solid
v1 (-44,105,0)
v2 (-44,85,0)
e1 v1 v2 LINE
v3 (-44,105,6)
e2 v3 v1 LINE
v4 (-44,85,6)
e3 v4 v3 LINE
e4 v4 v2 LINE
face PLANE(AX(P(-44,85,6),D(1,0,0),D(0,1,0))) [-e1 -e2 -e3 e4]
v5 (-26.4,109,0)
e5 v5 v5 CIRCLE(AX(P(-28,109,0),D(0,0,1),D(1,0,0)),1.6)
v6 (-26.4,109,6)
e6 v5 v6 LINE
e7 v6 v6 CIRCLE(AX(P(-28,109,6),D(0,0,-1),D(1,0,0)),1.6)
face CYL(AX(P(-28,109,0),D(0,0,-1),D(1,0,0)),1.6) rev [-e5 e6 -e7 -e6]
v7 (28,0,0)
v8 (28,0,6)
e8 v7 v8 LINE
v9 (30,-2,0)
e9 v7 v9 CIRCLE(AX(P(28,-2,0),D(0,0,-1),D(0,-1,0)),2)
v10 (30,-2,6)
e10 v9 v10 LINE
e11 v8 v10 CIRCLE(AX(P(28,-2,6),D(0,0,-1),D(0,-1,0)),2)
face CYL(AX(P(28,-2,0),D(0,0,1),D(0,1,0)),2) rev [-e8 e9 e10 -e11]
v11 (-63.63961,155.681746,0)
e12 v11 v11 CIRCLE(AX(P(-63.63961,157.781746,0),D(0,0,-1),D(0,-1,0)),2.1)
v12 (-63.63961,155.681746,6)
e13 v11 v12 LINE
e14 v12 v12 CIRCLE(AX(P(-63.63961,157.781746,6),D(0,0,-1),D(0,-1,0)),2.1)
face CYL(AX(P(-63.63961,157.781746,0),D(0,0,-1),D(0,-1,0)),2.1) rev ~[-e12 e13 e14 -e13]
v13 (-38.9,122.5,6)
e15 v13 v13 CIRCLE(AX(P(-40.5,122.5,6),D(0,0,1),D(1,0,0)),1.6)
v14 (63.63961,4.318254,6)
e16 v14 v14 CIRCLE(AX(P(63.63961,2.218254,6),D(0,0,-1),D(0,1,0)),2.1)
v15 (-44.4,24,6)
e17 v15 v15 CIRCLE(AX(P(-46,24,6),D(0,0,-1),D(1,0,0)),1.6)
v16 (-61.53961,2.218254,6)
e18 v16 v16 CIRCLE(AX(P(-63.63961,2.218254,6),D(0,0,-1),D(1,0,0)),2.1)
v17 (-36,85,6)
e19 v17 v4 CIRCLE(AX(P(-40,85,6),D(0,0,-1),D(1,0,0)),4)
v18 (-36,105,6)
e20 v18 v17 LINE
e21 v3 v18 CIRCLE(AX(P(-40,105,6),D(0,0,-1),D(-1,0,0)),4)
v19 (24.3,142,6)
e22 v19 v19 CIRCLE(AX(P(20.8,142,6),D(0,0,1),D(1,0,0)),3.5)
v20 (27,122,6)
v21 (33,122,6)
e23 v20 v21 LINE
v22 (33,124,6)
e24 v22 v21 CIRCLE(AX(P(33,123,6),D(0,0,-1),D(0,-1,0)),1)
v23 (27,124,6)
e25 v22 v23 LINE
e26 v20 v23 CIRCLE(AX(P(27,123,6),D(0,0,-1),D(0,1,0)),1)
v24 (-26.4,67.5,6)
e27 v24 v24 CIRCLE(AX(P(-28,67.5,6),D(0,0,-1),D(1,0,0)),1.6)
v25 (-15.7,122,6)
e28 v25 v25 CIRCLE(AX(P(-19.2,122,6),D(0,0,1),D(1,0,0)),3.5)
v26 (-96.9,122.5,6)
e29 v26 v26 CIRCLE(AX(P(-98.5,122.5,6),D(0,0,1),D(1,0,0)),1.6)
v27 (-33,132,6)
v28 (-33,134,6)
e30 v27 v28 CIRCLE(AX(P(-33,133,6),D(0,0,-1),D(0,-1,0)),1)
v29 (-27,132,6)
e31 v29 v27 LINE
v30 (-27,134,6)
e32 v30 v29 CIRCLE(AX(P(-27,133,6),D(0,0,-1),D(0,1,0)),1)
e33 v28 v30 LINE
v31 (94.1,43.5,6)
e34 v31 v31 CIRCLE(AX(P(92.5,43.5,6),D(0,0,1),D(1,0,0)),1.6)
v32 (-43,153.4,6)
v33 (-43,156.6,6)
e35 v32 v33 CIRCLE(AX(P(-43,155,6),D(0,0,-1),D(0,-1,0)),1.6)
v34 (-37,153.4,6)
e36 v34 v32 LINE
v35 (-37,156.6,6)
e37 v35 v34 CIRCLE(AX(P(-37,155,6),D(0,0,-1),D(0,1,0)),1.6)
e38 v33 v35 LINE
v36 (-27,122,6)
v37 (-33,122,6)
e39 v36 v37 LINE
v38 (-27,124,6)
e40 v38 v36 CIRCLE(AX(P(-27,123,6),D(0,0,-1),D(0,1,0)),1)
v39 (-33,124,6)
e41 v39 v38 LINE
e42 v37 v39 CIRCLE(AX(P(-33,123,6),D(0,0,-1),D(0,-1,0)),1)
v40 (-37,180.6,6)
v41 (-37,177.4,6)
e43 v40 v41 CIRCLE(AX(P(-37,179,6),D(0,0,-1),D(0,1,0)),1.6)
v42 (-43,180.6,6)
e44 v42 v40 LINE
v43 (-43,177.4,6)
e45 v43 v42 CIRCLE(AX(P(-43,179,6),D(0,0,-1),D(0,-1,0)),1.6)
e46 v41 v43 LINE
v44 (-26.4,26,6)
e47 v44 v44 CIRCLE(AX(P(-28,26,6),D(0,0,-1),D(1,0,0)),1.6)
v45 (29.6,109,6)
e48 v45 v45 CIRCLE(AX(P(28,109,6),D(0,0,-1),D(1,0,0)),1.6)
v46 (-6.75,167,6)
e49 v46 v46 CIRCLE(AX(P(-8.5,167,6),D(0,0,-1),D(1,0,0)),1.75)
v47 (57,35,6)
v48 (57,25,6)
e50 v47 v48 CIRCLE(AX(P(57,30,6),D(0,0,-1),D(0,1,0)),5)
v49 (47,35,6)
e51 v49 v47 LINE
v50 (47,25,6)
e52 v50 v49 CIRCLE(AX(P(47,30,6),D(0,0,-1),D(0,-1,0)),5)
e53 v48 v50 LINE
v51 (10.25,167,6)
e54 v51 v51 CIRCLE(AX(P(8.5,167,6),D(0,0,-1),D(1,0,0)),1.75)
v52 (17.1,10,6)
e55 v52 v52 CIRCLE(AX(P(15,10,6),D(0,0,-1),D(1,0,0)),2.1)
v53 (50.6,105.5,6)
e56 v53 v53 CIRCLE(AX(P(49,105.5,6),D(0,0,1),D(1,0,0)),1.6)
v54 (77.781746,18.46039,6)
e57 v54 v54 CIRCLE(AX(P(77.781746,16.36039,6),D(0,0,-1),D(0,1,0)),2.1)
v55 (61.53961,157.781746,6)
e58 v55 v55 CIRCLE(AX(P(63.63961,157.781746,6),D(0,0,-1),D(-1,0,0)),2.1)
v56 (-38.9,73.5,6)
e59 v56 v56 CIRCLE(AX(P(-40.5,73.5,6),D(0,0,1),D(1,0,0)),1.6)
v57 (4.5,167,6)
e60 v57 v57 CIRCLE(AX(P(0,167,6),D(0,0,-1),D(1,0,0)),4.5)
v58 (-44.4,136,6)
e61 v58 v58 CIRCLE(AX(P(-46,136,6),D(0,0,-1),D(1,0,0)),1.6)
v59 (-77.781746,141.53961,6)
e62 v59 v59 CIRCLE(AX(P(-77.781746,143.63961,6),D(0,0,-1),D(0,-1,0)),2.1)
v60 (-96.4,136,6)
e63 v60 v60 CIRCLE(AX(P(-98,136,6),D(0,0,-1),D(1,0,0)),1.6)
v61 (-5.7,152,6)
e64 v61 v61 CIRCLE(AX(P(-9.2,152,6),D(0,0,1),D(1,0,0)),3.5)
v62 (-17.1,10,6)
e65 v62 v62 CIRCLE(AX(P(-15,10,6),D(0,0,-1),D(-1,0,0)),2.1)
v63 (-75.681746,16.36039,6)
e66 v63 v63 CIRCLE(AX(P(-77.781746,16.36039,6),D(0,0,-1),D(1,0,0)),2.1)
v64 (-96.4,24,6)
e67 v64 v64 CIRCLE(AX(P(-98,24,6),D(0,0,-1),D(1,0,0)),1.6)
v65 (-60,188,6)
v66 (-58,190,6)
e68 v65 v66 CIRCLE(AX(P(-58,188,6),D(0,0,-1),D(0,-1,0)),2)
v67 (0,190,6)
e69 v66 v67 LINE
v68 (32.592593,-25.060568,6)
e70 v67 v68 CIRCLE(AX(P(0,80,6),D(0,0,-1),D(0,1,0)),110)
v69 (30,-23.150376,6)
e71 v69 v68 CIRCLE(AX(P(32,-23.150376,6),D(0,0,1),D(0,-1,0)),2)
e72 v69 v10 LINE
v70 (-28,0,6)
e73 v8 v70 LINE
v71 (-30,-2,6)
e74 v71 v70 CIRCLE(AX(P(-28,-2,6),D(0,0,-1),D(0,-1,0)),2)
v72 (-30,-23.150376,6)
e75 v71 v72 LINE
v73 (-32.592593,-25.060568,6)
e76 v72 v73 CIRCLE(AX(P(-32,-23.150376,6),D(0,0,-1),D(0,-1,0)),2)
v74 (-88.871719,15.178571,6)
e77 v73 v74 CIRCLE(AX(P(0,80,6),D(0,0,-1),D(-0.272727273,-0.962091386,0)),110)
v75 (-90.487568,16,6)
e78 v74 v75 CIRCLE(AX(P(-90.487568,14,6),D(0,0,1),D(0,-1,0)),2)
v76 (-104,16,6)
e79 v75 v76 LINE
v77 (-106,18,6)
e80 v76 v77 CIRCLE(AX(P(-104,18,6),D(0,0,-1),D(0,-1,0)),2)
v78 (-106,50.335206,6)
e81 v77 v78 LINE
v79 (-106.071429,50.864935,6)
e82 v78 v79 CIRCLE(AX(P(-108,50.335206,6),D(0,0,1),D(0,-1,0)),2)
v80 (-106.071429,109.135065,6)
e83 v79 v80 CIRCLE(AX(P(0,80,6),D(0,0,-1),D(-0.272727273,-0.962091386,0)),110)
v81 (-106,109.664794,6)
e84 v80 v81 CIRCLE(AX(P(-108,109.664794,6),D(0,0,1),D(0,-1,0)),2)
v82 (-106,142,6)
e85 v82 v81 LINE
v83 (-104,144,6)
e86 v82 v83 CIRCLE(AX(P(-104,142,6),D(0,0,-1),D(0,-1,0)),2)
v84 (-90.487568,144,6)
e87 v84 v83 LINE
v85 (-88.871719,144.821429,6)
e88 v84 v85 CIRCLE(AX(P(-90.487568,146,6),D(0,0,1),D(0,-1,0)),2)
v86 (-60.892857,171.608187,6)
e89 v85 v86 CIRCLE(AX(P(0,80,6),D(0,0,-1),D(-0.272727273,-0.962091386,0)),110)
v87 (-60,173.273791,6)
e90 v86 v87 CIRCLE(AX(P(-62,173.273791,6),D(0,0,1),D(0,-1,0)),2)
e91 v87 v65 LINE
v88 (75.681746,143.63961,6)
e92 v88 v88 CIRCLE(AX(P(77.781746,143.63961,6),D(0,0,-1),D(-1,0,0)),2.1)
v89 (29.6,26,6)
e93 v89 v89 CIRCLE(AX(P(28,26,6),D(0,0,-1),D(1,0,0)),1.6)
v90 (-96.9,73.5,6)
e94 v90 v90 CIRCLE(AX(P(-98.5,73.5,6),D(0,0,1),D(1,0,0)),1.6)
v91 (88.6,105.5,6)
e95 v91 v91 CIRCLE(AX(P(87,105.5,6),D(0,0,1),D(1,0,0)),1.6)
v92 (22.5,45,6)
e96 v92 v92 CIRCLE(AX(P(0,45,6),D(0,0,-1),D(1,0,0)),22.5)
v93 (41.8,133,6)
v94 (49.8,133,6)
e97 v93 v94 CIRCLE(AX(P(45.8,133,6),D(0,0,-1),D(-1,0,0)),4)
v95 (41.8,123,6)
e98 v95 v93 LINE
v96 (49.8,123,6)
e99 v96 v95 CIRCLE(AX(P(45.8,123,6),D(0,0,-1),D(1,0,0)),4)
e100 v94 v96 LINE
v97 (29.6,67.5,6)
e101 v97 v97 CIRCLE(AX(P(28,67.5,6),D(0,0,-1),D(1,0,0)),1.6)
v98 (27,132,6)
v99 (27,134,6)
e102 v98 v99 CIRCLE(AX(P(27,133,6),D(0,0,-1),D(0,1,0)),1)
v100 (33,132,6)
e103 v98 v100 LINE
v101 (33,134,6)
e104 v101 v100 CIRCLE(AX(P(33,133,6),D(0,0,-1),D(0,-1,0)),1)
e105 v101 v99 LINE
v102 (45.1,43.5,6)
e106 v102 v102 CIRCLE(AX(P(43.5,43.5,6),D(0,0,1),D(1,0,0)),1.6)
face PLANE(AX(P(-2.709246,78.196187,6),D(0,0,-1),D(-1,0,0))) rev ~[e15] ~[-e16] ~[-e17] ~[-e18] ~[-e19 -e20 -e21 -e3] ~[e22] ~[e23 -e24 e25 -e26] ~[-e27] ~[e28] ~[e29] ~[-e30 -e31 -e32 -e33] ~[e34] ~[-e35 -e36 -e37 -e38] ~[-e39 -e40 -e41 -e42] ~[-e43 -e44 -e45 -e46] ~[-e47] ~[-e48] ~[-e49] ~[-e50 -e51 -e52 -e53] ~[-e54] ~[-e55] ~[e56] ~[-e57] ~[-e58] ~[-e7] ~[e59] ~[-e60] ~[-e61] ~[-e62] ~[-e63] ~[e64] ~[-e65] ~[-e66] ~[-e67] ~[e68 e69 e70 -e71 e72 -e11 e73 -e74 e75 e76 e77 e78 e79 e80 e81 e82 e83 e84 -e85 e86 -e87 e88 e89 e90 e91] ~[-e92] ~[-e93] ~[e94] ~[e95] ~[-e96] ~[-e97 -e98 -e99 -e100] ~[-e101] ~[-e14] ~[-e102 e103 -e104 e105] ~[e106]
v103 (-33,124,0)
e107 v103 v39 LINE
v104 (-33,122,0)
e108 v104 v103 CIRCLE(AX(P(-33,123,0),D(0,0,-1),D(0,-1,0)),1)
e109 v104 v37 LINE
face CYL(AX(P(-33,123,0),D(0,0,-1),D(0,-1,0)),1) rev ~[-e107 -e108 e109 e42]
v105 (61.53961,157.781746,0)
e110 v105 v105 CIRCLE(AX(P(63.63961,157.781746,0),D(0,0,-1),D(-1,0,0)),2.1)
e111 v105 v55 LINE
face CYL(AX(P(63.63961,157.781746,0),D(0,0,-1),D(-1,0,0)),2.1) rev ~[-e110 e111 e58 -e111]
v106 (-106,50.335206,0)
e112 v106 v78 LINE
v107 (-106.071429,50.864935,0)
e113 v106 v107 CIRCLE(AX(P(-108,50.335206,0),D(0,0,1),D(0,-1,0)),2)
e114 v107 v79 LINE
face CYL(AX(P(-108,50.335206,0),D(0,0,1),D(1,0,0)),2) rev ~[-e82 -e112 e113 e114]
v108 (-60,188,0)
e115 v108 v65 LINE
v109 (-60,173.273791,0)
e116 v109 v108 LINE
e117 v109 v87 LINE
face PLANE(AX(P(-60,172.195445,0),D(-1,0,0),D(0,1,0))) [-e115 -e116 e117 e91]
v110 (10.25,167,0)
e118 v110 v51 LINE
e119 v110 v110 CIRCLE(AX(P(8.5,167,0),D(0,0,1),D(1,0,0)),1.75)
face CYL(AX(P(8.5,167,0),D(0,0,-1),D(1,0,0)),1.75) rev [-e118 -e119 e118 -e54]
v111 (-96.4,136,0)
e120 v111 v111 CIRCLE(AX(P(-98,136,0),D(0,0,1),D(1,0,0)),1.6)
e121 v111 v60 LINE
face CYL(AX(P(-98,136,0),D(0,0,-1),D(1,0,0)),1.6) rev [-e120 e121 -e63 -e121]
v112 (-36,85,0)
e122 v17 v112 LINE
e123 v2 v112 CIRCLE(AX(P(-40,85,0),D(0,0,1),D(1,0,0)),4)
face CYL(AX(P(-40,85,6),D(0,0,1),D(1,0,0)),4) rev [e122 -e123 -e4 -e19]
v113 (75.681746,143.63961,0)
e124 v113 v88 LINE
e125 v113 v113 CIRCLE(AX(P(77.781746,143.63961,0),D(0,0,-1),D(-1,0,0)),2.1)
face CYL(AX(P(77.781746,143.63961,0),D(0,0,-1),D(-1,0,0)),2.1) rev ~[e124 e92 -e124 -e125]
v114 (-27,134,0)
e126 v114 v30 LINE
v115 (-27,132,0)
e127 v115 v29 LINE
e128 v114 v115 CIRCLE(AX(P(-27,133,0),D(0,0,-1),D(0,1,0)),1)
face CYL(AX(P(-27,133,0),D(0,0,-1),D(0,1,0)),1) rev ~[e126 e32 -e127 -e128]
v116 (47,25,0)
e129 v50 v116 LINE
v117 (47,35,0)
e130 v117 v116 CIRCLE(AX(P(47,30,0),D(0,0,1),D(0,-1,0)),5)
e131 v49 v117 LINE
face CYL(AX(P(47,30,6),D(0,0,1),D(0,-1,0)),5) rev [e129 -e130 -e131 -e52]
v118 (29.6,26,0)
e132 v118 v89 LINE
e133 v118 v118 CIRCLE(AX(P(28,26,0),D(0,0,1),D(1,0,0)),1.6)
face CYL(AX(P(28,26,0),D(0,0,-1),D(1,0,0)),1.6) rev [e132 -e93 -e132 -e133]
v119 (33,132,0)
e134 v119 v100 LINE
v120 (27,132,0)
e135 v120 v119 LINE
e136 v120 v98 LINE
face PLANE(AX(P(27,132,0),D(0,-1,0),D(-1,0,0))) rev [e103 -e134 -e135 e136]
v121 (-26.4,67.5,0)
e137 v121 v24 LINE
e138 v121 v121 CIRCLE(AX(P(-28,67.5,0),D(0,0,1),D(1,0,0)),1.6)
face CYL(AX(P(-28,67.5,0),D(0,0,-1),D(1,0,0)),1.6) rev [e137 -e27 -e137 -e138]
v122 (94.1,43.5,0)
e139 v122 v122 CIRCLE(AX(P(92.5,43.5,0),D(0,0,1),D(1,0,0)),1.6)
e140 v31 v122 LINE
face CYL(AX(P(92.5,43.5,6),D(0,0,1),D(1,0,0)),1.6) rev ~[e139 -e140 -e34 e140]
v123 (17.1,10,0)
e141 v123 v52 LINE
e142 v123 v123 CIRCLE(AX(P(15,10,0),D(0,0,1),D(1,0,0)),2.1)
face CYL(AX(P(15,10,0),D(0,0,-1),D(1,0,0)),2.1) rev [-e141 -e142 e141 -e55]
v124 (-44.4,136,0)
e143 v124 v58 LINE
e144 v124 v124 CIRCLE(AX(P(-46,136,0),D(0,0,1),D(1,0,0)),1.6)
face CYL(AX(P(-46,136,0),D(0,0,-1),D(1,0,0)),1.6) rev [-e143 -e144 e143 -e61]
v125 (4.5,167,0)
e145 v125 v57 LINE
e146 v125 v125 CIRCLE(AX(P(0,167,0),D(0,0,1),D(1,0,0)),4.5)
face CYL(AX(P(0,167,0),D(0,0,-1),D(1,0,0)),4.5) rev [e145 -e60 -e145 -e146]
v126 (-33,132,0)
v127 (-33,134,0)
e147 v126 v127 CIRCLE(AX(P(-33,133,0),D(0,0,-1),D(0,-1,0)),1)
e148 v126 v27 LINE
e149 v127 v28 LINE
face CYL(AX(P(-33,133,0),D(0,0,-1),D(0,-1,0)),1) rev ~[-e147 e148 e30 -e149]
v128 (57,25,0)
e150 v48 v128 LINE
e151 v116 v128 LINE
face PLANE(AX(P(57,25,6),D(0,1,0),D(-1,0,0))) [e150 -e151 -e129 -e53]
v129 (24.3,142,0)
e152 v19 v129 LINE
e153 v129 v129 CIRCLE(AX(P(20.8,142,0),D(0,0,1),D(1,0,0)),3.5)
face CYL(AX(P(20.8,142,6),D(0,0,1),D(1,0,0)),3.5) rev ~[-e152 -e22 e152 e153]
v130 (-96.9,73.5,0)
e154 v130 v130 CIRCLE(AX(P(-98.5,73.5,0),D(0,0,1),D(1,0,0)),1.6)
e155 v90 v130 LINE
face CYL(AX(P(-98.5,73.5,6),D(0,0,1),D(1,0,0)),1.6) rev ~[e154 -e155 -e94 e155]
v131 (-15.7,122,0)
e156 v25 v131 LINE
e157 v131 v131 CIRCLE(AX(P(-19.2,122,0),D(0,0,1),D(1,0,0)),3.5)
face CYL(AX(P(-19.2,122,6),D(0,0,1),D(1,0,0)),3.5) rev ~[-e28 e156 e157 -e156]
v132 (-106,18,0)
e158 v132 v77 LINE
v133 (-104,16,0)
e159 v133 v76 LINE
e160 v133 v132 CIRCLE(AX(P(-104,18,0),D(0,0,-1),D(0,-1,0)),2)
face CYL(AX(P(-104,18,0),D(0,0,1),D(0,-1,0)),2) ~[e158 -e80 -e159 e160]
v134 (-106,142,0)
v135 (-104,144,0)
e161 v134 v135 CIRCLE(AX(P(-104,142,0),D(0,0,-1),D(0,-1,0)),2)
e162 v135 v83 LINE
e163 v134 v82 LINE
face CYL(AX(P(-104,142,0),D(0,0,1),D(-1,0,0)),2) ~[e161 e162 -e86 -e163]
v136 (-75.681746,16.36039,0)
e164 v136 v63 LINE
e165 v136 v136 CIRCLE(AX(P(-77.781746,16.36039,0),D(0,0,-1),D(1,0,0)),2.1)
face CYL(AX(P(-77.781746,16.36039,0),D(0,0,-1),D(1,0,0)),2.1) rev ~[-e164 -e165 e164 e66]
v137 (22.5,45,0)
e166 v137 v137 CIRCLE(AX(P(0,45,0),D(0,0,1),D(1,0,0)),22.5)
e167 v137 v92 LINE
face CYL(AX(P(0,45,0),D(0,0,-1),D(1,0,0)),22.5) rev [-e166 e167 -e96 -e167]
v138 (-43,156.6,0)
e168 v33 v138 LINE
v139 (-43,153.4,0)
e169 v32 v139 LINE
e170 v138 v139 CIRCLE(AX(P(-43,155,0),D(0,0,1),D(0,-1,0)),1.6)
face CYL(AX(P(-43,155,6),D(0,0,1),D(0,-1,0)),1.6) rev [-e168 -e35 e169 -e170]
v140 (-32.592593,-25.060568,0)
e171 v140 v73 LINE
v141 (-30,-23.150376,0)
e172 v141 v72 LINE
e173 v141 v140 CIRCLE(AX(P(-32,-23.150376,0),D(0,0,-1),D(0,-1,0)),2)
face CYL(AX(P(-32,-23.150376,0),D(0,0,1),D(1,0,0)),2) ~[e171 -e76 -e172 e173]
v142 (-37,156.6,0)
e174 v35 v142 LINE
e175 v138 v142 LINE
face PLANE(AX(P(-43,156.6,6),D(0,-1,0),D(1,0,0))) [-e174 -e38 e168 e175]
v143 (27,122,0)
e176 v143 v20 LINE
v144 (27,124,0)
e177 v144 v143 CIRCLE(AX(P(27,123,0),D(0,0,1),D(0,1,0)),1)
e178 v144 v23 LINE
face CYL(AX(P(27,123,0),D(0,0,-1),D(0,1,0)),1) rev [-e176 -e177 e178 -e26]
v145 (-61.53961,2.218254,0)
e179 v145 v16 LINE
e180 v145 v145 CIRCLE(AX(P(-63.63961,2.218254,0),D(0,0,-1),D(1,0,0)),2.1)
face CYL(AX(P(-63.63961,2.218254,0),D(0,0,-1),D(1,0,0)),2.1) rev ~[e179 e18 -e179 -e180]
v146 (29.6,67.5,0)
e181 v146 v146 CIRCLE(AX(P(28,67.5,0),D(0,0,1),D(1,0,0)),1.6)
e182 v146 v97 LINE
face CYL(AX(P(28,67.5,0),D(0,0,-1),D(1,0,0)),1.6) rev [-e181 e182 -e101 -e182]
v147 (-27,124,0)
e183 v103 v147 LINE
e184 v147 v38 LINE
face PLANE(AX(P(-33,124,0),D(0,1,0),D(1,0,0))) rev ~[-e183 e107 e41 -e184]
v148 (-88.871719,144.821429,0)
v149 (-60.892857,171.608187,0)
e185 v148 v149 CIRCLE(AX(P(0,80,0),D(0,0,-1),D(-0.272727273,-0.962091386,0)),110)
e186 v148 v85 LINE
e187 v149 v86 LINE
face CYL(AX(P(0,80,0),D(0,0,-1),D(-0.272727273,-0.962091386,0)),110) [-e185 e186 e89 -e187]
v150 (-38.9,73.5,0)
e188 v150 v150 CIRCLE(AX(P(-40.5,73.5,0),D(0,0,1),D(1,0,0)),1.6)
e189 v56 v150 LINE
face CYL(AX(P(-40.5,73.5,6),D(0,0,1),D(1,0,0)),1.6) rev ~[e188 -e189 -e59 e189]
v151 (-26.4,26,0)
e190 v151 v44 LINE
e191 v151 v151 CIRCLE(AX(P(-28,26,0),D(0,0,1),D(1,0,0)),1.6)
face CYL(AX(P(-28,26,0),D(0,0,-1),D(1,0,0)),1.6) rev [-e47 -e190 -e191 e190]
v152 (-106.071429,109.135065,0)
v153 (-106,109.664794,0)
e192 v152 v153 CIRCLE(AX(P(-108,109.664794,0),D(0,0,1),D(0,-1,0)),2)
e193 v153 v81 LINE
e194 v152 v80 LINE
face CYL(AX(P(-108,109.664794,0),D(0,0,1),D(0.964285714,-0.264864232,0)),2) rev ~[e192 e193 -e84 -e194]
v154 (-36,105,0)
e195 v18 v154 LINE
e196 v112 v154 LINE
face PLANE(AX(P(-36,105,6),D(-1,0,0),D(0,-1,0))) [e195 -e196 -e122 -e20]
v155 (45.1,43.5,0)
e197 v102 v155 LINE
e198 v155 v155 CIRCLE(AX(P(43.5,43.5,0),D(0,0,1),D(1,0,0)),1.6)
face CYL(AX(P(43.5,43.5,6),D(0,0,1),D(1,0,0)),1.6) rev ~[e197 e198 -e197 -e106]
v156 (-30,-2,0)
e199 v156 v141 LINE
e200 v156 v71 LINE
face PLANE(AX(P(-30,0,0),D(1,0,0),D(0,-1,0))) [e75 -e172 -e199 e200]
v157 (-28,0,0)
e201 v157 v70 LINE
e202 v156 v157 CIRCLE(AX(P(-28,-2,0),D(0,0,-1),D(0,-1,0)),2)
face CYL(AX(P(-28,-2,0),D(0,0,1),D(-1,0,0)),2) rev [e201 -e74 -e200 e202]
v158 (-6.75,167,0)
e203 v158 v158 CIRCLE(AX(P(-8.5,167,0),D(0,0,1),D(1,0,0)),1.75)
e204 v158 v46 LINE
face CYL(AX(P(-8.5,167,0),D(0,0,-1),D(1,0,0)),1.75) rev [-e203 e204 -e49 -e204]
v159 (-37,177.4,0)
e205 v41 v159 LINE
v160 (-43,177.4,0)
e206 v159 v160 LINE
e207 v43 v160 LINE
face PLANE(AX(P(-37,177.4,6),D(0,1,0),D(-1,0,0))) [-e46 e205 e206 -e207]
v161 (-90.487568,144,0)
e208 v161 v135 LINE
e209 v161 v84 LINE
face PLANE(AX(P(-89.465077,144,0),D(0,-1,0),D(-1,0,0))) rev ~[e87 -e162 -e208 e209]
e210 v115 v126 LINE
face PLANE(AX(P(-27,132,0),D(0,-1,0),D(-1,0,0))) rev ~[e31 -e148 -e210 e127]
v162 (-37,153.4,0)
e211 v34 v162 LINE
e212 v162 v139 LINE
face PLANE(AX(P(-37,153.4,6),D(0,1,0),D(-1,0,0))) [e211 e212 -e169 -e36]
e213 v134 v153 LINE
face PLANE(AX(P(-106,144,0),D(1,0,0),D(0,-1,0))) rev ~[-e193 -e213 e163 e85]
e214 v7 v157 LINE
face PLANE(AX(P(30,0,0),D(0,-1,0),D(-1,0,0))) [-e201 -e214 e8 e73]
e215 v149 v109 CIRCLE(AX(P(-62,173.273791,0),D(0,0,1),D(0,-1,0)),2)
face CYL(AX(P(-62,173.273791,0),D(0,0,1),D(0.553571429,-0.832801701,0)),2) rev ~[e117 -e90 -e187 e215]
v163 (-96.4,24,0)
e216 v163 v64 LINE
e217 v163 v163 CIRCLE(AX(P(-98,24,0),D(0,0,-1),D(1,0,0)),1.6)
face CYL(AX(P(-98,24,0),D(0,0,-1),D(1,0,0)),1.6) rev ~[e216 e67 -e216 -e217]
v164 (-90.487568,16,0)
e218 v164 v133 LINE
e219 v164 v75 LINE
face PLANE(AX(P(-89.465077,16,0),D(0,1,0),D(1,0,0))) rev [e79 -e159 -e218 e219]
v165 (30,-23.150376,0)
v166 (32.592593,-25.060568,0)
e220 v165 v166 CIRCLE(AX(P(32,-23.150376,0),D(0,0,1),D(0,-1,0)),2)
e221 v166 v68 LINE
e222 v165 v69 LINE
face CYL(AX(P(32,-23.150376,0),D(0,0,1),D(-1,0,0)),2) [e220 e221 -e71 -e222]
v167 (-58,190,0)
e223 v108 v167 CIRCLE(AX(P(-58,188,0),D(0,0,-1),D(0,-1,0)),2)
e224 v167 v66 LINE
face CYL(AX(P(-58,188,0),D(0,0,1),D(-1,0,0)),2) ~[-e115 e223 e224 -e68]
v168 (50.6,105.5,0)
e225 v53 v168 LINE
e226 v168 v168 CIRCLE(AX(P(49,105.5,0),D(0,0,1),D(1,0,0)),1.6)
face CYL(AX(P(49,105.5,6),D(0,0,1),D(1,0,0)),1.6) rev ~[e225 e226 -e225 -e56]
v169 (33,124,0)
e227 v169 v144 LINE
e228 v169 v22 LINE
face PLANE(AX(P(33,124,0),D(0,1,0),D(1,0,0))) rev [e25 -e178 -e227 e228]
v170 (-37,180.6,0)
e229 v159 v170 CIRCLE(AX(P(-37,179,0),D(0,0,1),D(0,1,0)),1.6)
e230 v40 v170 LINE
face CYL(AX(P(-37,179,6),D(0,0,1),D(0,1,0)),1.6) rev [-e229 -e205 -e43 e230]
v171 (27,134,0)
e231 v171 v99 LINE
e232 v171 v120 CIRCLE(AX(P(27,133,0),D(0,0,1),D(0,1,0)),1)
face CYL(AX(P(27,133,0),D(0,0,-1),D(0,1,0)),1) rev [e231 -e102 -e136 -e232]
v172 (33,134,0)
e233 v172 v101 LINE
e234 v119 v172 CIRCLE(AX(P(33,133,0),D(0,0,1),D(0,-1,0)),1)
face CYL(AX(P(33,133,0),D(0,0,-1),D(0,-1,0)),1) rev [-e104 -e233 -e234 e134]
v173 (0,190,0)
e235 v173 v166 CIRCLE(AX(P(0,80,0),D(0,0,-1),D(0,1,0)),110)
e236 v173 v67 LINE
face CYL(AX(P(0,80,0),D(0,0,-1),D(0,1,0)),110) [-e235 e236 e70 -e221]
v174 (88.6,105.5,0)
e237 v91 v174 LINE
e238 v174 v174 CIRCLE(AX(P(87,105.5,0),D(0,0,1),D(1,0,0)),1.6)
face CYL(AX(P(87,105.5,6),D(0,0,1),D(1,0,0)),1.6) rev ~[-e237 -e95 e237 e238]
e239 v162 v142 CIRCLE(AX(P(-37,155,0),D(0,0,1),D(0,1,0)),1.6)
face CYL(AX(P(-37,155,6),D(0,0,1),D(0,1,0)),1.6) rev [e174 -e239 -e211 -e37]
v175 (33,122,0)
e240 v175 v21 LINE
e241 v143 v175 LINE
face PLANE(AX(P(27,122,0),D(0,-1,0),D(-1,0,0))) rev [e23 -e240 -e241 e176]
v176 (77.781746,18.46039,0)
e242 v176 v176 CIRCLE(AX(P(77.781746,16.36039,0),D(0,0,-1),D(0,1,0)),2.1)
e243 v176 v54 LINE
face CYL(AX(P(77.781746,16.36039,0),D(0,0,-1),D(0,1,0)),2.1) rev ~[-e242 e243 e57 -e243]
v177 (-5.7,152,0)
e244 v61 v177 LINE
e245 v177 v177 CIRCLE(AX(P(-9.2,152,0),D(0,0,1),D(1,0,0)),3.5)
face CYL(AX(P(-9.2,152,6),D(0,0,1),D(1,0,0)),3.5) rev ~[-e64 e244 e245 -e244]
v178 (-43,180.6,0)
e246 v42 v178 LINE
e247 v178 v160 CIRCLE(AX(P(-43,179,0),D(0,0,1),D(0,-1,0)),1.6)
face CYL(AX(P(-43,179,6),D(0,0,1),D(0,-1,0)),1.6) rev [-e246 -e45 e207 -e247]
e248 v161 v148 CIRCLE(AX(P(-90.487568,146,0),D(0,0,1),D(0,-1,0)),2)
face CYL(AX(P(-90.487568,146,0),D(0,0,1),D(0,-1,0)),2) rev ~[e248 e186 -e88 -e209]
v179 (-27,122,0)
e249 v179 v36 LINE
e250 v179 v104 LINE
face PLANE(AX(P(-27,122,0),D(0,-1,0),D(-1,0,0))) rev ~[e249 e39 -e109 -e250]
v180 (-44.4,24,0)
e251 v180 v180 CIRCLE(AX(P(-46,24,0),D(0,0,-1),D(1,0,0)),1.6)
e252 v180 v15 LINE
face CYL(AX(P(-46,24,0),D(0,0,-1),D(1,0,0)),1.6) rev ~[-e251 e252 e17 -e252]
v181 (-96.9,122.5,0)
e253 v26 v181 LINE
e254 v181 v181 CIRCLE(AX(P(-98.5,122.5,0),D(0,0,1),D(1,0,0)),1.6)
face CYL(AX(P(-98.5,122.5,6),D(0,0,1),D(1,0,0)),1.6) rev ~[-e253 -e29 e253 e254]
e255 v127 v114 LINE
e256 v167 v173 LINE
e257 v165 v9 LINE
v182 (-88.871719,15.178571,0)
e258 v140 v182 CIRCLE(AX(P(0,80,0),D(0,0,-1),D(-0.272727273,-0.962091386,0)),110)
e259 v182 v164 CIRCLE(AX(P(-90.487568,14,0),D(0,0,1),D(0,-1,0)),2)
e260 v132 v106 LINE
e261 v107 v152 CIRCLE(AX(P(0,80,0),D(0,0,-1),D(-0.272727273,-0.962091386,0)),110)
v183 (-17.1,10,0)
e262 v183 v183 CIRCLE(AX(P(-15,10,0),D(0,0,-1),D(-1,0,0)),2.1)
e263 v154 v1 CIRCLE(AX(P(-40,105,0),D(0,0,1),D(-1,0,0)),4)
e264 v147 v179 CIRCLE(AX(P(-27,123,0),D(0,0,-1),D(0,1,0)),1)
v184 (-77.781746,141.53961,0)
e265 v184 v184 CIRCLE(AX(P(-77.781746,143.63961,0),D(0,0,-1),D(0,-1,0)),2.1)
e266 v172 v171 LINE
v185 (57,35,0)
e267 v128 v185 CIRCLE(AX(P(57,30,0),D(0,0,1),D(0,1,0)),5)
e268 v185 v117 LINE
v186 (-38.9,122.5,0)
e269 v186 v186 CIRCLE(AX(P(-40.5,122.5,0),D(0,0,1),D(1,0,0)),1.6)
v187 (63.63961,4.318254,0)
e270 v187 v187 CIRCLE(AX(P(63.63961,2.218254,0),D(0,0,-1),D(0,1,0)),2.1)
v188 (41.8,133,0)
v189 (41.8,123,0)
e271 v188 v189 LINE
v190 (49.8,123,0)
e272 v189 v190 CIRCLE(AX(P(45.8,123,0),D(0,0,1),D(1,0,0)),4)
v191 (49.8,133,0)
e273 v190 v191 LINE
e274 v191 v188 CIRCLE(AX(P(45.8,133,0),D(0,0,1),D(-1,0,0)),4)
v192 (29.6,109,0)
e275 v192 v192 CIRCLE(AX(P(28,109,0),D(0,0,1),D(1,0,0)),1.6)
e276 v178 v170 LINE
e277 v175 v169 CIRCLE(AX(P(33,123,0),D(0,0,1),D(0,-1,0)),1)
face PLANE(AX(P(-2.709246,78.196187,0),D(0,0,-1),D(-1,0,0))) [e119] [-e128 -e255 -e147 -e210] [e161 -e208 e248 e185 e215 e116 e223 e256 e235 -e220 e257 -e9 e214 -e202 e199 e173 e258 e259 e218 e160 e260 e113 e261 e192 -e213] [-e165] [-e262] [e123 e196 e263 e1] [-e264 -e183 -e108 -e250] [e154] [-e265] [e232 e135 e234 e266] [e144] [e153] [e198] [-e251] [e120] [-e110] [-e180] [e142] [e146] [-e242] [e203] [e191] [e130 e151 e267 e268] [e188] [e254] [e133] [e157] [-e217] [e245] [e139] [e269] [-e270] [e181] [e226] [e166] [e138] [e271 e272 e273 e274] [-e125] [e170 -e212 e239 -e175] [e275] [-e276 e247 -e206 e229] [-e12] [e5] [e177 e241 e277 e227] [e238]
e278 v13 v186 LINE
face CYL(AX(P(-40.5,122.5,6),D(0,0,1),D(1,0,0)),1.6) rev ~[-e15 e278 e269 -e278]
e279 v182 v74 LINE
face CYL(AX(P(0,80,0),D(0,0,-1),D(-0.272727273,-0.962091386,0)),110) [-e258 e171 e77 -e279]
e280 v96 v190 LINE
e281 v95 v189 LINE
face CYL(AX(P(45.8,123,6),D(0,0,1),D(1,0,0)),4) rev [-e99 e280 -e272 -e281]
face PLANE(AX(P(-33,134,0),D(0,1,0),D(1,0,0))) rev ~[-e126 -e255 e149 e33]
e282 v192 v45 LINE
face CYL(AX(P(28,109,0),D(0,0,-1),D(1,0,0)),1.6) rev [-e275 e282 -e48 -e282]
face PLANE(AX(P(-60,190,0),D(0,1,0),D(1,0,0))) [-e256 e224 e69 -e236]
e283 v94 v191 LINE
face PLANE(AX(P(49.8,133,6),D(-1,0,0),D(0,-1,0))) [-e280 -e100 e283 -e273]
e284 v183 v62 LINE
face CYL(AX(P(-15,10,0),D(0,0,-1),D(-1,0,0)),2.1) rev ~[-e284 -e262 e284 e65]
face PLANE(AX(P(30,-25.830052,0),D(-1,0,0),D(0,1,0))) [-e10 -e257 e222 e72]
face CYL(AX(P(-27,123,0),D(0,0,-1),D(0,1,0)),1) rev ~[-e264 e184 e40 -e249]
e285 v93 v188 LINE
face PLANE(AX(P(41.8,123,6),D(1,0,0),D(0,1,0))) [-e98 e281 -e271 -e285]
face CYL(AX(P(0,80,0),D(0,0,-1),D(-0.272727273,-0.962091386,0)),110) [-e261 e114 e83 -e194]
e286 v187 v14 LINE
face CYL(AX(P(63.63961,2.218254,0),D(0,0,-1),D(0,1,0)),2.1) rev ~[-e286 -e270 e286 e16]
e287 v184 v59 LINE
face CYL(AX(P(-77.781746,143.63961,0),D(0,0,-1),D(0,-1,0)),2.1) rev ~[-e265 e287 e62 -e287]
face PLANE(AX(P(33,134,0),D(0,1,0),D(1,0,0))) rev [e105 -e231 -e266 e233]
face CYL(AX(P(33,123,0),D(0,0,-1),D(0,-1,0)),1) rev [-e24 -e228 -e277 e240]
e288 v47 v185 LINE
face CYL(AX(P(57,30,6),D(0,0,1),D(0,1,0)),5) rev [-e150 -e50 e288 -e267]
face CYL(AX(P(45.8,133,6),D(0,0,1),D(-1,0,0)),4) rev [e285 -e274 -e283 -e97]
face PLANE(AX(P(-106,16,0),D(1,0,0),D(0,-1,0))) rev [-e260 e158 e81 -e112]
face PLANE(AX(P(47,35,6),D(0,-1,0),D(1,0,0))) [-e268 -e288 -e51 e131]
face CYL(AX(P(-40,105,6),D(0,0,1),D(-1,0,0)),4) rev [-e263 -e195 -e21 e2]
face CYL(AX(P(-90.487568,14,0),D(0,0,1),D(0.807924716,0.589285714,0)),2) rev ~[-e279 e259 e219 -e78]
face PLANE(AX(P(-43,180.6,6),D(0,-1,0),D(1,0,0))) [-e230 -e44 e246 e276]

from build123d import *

# Parameters (mm, degrees)
BOSS_EXTRU_1_DEPTH                       = 6
ESQUISSE2_R                              = 1.6
ESQUISSE2_R_2                            = 1.75
ESQUISSE2_R_3                            = 4.5
ENL_V_MAT_EXTRU_1_DEPTH                  = 10
ESQUISSE4_R                              = 22.5
ENL_V_MAT_EXTRU_2_DEPTH                  = 220.626956451
ESQUISSE5_R                              = 2.1
ENL_V_MAT_EXTRU_4_DEPTH                  = 220.626956451
CONG_2_R                                 = 2
ENL_V_MAT_EXTRU_5_REACH                  = 221.627
ESQUISSE7_R                              = 2.1
ENL_V_MAT_EXTRU_6_DEPTH                  = 220.626956451
R_P_TITION_CIRCULAIRE1_COUNT             = 4
ESQUISSE8_R                              = 3.5
ENL_V_MAT_EXTRU_RELAIS_MOT_PISTON_DEPTH  = 220.626956451
ENL_V_MAT_EXTRU_8_DEPTH                  = 220.626956451
BOSS_EXTRU_2_DEPTH                       = 6
ENL_V_MAT_EXTRU_9_DEPTH                  = 220.626956451
CONG_3_R                                 = 2
ESQUISSE10_R                             = 1.6
ENL_V_MAT_EXTRU_PONT_H_MOT_CAISSES_DEPTH = 220.626956451
CONG_3_OF_SYM_TRIE2_R                    = 2
ENL_V_MAT_EXTRU_7_DEPTH                  = 220.626956451
ESQUISSE11_R                             = 1.6
ENL_V_MAT_EXTRU_RASPBERRY_DEPTH          = 220.626956451
ESQUISSE12_R                             = 1.6
ENL_V_MAT_EXTRU_ARDUINO_DEPTH            = 220.626956451


with BuildPart() as part:
    # Esquisse1 → Boss.-Extru.1 (new body)
    with BuildSketch(Plane.XY):
        with BuildLine():
            Line((-30, 0), (-30, -25.830052443))
            ThreePointArc((-30, -25.830052443), (-108.759019704, 63.523482378), (-60, 172.195444573))
            Line((-60, 172.195444573), (-60, 190))
            Line((-60, 190), (0, 190))
            ThreePointArc((0, 190), (108.952525828, 95.144210632), (30, -25.830052443))
            Line((30, -25.830052443), (30, 0))
            Line((30, 0), (-30, 0))
        make_face()
    extrude(amount=BOSS_EXTRU_1_DEPTH)

    # Esquisse2 → Enlèv. mat.-Extru.1 (cut)
    with BuildSketch(Plane.XY):
        with Locations((28, 26)):
            Circle(ESQUISSE2_R)
        with Locations((-28, 26)):
            Circle(ESQUISSE2_R)
        with Locations((-28, 67.5)):
            Circle(ESQUISSE2_R)
        with Locations((-28, 109)):
            Circle(ESQUISSE2_R)
        with Locations((28, 67.5)):
            Circle(ESQUISSE2_R)
        with Locations((28, 109)):
            Circle(ESQUISSE2_R)
        with Locations((8.5, 167)):
            Circle(ESQUISSE2_R_2)
        with Locations((-8.5, 167)):
            Circle(ESQUISSE2_R_2)
        with Locations((0, 167)):
            Circle(ESQUISSE2_R_3)
    extrude(amount=ENL_V_MAT_EXTRU_1_DEPTH, mode=Mode.SUBTRACT)

    # Esquisse4 → Enlèv. mat.-Extru.2 (cut, through all)
    with BuildSketch(Plane.XY):
        with Locations((0, 45)):
            Circle(ESQUISSE4_R)
    extrude(amount=ENL_V_MAT_EXTRU_2_DEPTH, mode=Mode.SUBTRACT)

    # Esquisse5 → Enlèv. mat.-Extru.4 (cut, through all)
    with BuildSketch(Plane(origin=(0, 0, 0), x_dir=(-1, 0, 0), z_dir=(0, 0, -1))):
        with Locations((15, 10)):
            Circle(ESQUISSE5_R)
    enl_v_mat_extru_4 = extrude(amount=-ENL_V_MAT_EXTRU_4_DEPTH, mode=Mode.SUBTRACT)

    # Symétrie1: Enlèv. mat.-Extru.4 across plane
    add(enl_v_mat_extru_4.mirror(Plane(origin=(0, 0, 0), x_dir=(0, 0, 1), z_dir=(1, 0, 0))), mode=Mode.SUBTRACT)

    # Congé2
    cong_2_edges = [part.edges().sort_by_distance(p)[0] for p in [
        (-30, -25.830052443, 3),
        (-30, 0, 3),
        (30, 0, 3),
        (30, -25.830052443, 3),
        (-60, 172.195444573, 3),
        (-60, 190, 3),
    ]]
    fillet(cong_2_edges, radius=CONG_2_R)

    # Esquisse6 → Enlèv. mat.-Extru.5 (cut, up to next)
    with BuildSketch(Plane.XY.offset(6), mode=Mode.PRIVATE) as enl_v_mat_extru_5_sk1:
        with BuildLine():
            Line((-43, 180.6), (-37, 180.6))
            ThreePointArc((-37, 180.6), (-35.4, 179), (-37, 177.4))
            Line((-37, 177.4), (-43, 177.4))
            ThreePointArc((-43, 177.4), (-44.6, 179), (-43, 180.6))
        make_face()
    enl_v_mat_extru_5_tool1 = extrude(enl_v_mat_extru_5_sk1.sketch, amount=-ENL_V_MAT_EXTRU_5_REACH, mode=Mode.PRIVATE) & part.part
    # Esquisse6 → Enlèv. mat.-Extru.5 (cut, up to next)
    with BuildSketch(Plane.XY.offset(6), mode=Mode.PRIVATE) as enl_v_mat_extru_5_sk2:
        with BuildLine():
            Line((-43, 156.6), (-37, 156.6))
            ThreePointArc((-37, 156.6), (-35.4, 155), (-37, 153.4))
            Line((-37, 153.4), (-43, 153.4))
            ThreePointArc((-43, 153.4), (-44.6, 155), (-43, 156.6))
        make_face()
    enl_v_mat_extru_5_tool2 = extrude(enl_v_mat_extru_5_sk2.sketch, amount=-ENL_V_MAT_EXTRU_5_REACH, mode=Mode.PRIVATE) & part.part
    add(enl_v_mat_extru_5_tool1.solids().sort_by_distance((-40, 179, 6))[0], mode=Mode.SUBTRACT)
    add(enl_v_mat_extru_5_tool2.solids().sort_by_distance((-40, 155, 6))[0], mode=Mode.SUBTRACT)

    # Esquisse7 → Enlèv. mat.-Extru.6 (cut, through all)
    with BuildSketch(Plane(origin=(0, 0, 0), x_dir=(-1, 0, 0), z_dir=(0, 0, -1))):
        with Locations((-63.639610307, 157.781745931)):
            Circle(ESQUISSE7_R)
        with Locations((-77.781745931, 143.639610307)):
            Circle(ESQUISSE7_R)
    enl_v_mat_extru_6 = extrude(amount=-ENL_V_MAT_EXTRU_6_DEPTH, mode=Mode.SUBTRACT)

    # Répétition circulaire1: Enlèv. mat.-Extru.6 ×4 about axis
    r_p_tition_circulaire1_axis = Axis((0, 80, 6), (0, 0, -1))
    for i in range(1, R_P_TITION_CIRCULAIRE1_COUNT):
        add(enl_v_mat_extru_6.rotate(r_p_tition_circulaire1_axis, i * 360 / R_P_TITION_CIRCULAIRE1_COUNT), mode=Mode.SUBTRACT)

    # Esquisse8 → Enlèv. mat.-Extru. Relais Mot piston (cut, through all)
    with BuildSketch(Plane.XY.offset(6)):
        with Locations((20.8, 142)):
            Circle(ESQUISSE8_R)
        with Locations((-9.2, 152)):
            Circle(ESQUISSE8_R)
        with Locations((-19.2, 122)):
            Circle(ESQUISSE8_R)
    extrude(amount=-ENL_V_MAT_EXTRU_RELAIS_MOT_PISTON_DEPTH, mode=Mode.SUBTRACT)

    # Esquisse14 → Enlèv. mat.-Extru.8 (cut, through all)
    with BuildSketch(Plane.XY):
        with BuildLine():
            Line((-33, 134), (-27, 134))
            ThreePointArc((-27, 134), (-26, 133), (-27, 132))
            Line((-27, 132), (-33, 132))
            ThreePointArc((-33, 132), (-34, 133), (-33, 134))
        make_face()
        with BuildLine():
            Line((-33, 124), (-27, 124))
            ThreePointArc((-27, 124), (-26, 123), (-27, 122))
            Line((-27, 122), (-33, 122))
            ThreePointArc((-33, 122), (-34, 123), (-33, 124))
        make_face()
    enl_v_mat_extru_8 = extrude(amount=ENL_V_MAT_EXTRU_8_DEPTH, mode=Mode.SUBTRACT)

    # Symétrie3: Enlèv. mat.-Extru.8 across plane
    add(enl_v_mat_extru_8.mirror(Plane(origin=(0, 0, 0), x_dir=(0, 0, 1), z_dir=(1, 0, 0))), mode=Mode.SUBTRACT)

    # Esquisse9 → Boss.-Extru.2 (add)
    with BuildSketch(Plane.XY):
        with BuildLine():
            Line((-106, 144), (-106, 109.393876913))
            ThreePointArc((-106, 109.393876913), (-99.252430796, 127.423148156), (-89.465076985, 144))
            Line((-89.465076985, 144), (-106, 144))
        make_face()
    boss_extru_2 = extrude(amount=BOSS_EXTRU_2_DEPTH)

    # Esquisse15 → Enlèv. mat.-Extru.9 (cut, through all)
    with BuildSketch(Plane.XY.offset(6)):
        with BuildLine():
            Line((49.8, 133), (49.8, 123))
            ThreePointArc((49.8, 123), (45.8, 119), (41.8, 123))
            Line((41.8, 123), (41.8, 133))
            ThreePointArc((41.8, 133), (45.8, 137), (49.8, 133))
        make_face()
    extrude(amount=-ENL_V_MAT_EXTRU_9_DEPTH, mode=Mode.SUBTRACT)

    # Congé3
    cong_3_edges = [part.edges().sort_by_distance(p)[0] for p in [
        (-106, 144, 3),
        (-106, 109.393876913, 3),
        (-89.465076985, 144, 3),
    ]]
    fillet(cong_3_edges, radius=CONG_3_R)

    # Esquisse10 → Enlèv. mat.-Extru. Pont H Mot caisses (cut, through all)
    with BuildSketch(Plane.XY):
        with Locations((-46, 136)):
            Circle(ESQUISSE10_R)
        with Locations((-98, 136)):
            Circle(ESQUISSE10_R)
    enl_v_mat_extru_pont_h_mot_caisses = extrude(amount=ENL_V_MAT_EXTRU_PONT_H_MOT_CAISSES_DEPTH, mode=Mode.SUBTRACT)

    # Symétrie2: Boss.-Extru.2, Enlèv. mat.-Extru. Pont H Mot caisses across plane
    add(boss_extru_2.mirror(Plane.ZX.offset(80)))
    add(enl_v_mat_extru_pont_h_mot_caisses.mirror(Plane.ZX.offset(80)), mode=Mode.SUBTRACT)

    # Congé3 of Symétrie2
    cong_3_of_sym_trie2_edges = [part.edges().sort_by_distance(p)[0] for p in [
        (-106, 16, 3),
        (-106, 50.606123087, 3),
        (-89.465076985, 16, 3),
    ]]
    fillet(cong_3_of_sym_trie2_edges, radius=CONG_3_OF_SYM_TRIE2_R)

    # Esquisse13 → Enlèv. mat.-Extru.7 (cut, through all)
    with BuildSketch(Plane.XY.offset(6)):
        with BuildLine():
            Line((-44, 85), (-44, 105))
            ThreePointArc((-44, 105), (-40, 109), (-36, 105))
            Line((-36, 105), (-36, 85))
            ThreePointArc((-36, 85), (-40, 81), (-44, 85))
        make_face()
    extrude(amount=-ENL_V_MAT_EXTRU_7_DEPTH, mode=Mode.SUBTRACT)

    # Esquisse11 → Enlèv. mat.-Extru. Raspberry (cut, through all)
    with BuildSketch(Plane.XY.offset(6)):
        with Locations((-40.5, 73.5)):
            Circle(ESQUISSE11_R)
        with Locations((-98.5, 73.5)):
            Circle(ESQUISSE11_R)
        with Locations((-40.5, 122.5)):
            Circle(ESQUISSE11_R)
        with Locations((-98.5, 122.5)):
            Circle(ESQUISSE11_R)
    extrude(amount=-ENL_V_MAT_EXTRU_RASPBERRY_DEPTH, mode=Mode.SUBTRACT)

    # Esquisse12 → Enlèv. mat.-Extru. Arduino (cut, through all)
    with BuildSketch(Plane.XY.offset(6)):
        with Locations((43.5, 43.5)):
            Circle(ESQUISSE12_R)
        with Locations((92.5, 43.5)):
            Circle(ESQUISSE12_R)
        with Locations((49, 105.5)):
            Circle(ESQUISSE12_R)
        with Locations((87, 105.5)):
            Circle(ESQUISSE12_R)
        with BuildLine():
            Line((47, 35), (57, 35))
            ThreePointArc((57, 35), (62, 30), (57, 25))
            Line((57, 25), (47, 25))
            ThreePointArc((47, 25), (42, 30), (47, 35))
        make_face()
    extrude(amount=-ENL_V_MAT_EXTRU_ARDUINO_DEPTH, mode=Mode.SUBTRACT)


solid = part.part
